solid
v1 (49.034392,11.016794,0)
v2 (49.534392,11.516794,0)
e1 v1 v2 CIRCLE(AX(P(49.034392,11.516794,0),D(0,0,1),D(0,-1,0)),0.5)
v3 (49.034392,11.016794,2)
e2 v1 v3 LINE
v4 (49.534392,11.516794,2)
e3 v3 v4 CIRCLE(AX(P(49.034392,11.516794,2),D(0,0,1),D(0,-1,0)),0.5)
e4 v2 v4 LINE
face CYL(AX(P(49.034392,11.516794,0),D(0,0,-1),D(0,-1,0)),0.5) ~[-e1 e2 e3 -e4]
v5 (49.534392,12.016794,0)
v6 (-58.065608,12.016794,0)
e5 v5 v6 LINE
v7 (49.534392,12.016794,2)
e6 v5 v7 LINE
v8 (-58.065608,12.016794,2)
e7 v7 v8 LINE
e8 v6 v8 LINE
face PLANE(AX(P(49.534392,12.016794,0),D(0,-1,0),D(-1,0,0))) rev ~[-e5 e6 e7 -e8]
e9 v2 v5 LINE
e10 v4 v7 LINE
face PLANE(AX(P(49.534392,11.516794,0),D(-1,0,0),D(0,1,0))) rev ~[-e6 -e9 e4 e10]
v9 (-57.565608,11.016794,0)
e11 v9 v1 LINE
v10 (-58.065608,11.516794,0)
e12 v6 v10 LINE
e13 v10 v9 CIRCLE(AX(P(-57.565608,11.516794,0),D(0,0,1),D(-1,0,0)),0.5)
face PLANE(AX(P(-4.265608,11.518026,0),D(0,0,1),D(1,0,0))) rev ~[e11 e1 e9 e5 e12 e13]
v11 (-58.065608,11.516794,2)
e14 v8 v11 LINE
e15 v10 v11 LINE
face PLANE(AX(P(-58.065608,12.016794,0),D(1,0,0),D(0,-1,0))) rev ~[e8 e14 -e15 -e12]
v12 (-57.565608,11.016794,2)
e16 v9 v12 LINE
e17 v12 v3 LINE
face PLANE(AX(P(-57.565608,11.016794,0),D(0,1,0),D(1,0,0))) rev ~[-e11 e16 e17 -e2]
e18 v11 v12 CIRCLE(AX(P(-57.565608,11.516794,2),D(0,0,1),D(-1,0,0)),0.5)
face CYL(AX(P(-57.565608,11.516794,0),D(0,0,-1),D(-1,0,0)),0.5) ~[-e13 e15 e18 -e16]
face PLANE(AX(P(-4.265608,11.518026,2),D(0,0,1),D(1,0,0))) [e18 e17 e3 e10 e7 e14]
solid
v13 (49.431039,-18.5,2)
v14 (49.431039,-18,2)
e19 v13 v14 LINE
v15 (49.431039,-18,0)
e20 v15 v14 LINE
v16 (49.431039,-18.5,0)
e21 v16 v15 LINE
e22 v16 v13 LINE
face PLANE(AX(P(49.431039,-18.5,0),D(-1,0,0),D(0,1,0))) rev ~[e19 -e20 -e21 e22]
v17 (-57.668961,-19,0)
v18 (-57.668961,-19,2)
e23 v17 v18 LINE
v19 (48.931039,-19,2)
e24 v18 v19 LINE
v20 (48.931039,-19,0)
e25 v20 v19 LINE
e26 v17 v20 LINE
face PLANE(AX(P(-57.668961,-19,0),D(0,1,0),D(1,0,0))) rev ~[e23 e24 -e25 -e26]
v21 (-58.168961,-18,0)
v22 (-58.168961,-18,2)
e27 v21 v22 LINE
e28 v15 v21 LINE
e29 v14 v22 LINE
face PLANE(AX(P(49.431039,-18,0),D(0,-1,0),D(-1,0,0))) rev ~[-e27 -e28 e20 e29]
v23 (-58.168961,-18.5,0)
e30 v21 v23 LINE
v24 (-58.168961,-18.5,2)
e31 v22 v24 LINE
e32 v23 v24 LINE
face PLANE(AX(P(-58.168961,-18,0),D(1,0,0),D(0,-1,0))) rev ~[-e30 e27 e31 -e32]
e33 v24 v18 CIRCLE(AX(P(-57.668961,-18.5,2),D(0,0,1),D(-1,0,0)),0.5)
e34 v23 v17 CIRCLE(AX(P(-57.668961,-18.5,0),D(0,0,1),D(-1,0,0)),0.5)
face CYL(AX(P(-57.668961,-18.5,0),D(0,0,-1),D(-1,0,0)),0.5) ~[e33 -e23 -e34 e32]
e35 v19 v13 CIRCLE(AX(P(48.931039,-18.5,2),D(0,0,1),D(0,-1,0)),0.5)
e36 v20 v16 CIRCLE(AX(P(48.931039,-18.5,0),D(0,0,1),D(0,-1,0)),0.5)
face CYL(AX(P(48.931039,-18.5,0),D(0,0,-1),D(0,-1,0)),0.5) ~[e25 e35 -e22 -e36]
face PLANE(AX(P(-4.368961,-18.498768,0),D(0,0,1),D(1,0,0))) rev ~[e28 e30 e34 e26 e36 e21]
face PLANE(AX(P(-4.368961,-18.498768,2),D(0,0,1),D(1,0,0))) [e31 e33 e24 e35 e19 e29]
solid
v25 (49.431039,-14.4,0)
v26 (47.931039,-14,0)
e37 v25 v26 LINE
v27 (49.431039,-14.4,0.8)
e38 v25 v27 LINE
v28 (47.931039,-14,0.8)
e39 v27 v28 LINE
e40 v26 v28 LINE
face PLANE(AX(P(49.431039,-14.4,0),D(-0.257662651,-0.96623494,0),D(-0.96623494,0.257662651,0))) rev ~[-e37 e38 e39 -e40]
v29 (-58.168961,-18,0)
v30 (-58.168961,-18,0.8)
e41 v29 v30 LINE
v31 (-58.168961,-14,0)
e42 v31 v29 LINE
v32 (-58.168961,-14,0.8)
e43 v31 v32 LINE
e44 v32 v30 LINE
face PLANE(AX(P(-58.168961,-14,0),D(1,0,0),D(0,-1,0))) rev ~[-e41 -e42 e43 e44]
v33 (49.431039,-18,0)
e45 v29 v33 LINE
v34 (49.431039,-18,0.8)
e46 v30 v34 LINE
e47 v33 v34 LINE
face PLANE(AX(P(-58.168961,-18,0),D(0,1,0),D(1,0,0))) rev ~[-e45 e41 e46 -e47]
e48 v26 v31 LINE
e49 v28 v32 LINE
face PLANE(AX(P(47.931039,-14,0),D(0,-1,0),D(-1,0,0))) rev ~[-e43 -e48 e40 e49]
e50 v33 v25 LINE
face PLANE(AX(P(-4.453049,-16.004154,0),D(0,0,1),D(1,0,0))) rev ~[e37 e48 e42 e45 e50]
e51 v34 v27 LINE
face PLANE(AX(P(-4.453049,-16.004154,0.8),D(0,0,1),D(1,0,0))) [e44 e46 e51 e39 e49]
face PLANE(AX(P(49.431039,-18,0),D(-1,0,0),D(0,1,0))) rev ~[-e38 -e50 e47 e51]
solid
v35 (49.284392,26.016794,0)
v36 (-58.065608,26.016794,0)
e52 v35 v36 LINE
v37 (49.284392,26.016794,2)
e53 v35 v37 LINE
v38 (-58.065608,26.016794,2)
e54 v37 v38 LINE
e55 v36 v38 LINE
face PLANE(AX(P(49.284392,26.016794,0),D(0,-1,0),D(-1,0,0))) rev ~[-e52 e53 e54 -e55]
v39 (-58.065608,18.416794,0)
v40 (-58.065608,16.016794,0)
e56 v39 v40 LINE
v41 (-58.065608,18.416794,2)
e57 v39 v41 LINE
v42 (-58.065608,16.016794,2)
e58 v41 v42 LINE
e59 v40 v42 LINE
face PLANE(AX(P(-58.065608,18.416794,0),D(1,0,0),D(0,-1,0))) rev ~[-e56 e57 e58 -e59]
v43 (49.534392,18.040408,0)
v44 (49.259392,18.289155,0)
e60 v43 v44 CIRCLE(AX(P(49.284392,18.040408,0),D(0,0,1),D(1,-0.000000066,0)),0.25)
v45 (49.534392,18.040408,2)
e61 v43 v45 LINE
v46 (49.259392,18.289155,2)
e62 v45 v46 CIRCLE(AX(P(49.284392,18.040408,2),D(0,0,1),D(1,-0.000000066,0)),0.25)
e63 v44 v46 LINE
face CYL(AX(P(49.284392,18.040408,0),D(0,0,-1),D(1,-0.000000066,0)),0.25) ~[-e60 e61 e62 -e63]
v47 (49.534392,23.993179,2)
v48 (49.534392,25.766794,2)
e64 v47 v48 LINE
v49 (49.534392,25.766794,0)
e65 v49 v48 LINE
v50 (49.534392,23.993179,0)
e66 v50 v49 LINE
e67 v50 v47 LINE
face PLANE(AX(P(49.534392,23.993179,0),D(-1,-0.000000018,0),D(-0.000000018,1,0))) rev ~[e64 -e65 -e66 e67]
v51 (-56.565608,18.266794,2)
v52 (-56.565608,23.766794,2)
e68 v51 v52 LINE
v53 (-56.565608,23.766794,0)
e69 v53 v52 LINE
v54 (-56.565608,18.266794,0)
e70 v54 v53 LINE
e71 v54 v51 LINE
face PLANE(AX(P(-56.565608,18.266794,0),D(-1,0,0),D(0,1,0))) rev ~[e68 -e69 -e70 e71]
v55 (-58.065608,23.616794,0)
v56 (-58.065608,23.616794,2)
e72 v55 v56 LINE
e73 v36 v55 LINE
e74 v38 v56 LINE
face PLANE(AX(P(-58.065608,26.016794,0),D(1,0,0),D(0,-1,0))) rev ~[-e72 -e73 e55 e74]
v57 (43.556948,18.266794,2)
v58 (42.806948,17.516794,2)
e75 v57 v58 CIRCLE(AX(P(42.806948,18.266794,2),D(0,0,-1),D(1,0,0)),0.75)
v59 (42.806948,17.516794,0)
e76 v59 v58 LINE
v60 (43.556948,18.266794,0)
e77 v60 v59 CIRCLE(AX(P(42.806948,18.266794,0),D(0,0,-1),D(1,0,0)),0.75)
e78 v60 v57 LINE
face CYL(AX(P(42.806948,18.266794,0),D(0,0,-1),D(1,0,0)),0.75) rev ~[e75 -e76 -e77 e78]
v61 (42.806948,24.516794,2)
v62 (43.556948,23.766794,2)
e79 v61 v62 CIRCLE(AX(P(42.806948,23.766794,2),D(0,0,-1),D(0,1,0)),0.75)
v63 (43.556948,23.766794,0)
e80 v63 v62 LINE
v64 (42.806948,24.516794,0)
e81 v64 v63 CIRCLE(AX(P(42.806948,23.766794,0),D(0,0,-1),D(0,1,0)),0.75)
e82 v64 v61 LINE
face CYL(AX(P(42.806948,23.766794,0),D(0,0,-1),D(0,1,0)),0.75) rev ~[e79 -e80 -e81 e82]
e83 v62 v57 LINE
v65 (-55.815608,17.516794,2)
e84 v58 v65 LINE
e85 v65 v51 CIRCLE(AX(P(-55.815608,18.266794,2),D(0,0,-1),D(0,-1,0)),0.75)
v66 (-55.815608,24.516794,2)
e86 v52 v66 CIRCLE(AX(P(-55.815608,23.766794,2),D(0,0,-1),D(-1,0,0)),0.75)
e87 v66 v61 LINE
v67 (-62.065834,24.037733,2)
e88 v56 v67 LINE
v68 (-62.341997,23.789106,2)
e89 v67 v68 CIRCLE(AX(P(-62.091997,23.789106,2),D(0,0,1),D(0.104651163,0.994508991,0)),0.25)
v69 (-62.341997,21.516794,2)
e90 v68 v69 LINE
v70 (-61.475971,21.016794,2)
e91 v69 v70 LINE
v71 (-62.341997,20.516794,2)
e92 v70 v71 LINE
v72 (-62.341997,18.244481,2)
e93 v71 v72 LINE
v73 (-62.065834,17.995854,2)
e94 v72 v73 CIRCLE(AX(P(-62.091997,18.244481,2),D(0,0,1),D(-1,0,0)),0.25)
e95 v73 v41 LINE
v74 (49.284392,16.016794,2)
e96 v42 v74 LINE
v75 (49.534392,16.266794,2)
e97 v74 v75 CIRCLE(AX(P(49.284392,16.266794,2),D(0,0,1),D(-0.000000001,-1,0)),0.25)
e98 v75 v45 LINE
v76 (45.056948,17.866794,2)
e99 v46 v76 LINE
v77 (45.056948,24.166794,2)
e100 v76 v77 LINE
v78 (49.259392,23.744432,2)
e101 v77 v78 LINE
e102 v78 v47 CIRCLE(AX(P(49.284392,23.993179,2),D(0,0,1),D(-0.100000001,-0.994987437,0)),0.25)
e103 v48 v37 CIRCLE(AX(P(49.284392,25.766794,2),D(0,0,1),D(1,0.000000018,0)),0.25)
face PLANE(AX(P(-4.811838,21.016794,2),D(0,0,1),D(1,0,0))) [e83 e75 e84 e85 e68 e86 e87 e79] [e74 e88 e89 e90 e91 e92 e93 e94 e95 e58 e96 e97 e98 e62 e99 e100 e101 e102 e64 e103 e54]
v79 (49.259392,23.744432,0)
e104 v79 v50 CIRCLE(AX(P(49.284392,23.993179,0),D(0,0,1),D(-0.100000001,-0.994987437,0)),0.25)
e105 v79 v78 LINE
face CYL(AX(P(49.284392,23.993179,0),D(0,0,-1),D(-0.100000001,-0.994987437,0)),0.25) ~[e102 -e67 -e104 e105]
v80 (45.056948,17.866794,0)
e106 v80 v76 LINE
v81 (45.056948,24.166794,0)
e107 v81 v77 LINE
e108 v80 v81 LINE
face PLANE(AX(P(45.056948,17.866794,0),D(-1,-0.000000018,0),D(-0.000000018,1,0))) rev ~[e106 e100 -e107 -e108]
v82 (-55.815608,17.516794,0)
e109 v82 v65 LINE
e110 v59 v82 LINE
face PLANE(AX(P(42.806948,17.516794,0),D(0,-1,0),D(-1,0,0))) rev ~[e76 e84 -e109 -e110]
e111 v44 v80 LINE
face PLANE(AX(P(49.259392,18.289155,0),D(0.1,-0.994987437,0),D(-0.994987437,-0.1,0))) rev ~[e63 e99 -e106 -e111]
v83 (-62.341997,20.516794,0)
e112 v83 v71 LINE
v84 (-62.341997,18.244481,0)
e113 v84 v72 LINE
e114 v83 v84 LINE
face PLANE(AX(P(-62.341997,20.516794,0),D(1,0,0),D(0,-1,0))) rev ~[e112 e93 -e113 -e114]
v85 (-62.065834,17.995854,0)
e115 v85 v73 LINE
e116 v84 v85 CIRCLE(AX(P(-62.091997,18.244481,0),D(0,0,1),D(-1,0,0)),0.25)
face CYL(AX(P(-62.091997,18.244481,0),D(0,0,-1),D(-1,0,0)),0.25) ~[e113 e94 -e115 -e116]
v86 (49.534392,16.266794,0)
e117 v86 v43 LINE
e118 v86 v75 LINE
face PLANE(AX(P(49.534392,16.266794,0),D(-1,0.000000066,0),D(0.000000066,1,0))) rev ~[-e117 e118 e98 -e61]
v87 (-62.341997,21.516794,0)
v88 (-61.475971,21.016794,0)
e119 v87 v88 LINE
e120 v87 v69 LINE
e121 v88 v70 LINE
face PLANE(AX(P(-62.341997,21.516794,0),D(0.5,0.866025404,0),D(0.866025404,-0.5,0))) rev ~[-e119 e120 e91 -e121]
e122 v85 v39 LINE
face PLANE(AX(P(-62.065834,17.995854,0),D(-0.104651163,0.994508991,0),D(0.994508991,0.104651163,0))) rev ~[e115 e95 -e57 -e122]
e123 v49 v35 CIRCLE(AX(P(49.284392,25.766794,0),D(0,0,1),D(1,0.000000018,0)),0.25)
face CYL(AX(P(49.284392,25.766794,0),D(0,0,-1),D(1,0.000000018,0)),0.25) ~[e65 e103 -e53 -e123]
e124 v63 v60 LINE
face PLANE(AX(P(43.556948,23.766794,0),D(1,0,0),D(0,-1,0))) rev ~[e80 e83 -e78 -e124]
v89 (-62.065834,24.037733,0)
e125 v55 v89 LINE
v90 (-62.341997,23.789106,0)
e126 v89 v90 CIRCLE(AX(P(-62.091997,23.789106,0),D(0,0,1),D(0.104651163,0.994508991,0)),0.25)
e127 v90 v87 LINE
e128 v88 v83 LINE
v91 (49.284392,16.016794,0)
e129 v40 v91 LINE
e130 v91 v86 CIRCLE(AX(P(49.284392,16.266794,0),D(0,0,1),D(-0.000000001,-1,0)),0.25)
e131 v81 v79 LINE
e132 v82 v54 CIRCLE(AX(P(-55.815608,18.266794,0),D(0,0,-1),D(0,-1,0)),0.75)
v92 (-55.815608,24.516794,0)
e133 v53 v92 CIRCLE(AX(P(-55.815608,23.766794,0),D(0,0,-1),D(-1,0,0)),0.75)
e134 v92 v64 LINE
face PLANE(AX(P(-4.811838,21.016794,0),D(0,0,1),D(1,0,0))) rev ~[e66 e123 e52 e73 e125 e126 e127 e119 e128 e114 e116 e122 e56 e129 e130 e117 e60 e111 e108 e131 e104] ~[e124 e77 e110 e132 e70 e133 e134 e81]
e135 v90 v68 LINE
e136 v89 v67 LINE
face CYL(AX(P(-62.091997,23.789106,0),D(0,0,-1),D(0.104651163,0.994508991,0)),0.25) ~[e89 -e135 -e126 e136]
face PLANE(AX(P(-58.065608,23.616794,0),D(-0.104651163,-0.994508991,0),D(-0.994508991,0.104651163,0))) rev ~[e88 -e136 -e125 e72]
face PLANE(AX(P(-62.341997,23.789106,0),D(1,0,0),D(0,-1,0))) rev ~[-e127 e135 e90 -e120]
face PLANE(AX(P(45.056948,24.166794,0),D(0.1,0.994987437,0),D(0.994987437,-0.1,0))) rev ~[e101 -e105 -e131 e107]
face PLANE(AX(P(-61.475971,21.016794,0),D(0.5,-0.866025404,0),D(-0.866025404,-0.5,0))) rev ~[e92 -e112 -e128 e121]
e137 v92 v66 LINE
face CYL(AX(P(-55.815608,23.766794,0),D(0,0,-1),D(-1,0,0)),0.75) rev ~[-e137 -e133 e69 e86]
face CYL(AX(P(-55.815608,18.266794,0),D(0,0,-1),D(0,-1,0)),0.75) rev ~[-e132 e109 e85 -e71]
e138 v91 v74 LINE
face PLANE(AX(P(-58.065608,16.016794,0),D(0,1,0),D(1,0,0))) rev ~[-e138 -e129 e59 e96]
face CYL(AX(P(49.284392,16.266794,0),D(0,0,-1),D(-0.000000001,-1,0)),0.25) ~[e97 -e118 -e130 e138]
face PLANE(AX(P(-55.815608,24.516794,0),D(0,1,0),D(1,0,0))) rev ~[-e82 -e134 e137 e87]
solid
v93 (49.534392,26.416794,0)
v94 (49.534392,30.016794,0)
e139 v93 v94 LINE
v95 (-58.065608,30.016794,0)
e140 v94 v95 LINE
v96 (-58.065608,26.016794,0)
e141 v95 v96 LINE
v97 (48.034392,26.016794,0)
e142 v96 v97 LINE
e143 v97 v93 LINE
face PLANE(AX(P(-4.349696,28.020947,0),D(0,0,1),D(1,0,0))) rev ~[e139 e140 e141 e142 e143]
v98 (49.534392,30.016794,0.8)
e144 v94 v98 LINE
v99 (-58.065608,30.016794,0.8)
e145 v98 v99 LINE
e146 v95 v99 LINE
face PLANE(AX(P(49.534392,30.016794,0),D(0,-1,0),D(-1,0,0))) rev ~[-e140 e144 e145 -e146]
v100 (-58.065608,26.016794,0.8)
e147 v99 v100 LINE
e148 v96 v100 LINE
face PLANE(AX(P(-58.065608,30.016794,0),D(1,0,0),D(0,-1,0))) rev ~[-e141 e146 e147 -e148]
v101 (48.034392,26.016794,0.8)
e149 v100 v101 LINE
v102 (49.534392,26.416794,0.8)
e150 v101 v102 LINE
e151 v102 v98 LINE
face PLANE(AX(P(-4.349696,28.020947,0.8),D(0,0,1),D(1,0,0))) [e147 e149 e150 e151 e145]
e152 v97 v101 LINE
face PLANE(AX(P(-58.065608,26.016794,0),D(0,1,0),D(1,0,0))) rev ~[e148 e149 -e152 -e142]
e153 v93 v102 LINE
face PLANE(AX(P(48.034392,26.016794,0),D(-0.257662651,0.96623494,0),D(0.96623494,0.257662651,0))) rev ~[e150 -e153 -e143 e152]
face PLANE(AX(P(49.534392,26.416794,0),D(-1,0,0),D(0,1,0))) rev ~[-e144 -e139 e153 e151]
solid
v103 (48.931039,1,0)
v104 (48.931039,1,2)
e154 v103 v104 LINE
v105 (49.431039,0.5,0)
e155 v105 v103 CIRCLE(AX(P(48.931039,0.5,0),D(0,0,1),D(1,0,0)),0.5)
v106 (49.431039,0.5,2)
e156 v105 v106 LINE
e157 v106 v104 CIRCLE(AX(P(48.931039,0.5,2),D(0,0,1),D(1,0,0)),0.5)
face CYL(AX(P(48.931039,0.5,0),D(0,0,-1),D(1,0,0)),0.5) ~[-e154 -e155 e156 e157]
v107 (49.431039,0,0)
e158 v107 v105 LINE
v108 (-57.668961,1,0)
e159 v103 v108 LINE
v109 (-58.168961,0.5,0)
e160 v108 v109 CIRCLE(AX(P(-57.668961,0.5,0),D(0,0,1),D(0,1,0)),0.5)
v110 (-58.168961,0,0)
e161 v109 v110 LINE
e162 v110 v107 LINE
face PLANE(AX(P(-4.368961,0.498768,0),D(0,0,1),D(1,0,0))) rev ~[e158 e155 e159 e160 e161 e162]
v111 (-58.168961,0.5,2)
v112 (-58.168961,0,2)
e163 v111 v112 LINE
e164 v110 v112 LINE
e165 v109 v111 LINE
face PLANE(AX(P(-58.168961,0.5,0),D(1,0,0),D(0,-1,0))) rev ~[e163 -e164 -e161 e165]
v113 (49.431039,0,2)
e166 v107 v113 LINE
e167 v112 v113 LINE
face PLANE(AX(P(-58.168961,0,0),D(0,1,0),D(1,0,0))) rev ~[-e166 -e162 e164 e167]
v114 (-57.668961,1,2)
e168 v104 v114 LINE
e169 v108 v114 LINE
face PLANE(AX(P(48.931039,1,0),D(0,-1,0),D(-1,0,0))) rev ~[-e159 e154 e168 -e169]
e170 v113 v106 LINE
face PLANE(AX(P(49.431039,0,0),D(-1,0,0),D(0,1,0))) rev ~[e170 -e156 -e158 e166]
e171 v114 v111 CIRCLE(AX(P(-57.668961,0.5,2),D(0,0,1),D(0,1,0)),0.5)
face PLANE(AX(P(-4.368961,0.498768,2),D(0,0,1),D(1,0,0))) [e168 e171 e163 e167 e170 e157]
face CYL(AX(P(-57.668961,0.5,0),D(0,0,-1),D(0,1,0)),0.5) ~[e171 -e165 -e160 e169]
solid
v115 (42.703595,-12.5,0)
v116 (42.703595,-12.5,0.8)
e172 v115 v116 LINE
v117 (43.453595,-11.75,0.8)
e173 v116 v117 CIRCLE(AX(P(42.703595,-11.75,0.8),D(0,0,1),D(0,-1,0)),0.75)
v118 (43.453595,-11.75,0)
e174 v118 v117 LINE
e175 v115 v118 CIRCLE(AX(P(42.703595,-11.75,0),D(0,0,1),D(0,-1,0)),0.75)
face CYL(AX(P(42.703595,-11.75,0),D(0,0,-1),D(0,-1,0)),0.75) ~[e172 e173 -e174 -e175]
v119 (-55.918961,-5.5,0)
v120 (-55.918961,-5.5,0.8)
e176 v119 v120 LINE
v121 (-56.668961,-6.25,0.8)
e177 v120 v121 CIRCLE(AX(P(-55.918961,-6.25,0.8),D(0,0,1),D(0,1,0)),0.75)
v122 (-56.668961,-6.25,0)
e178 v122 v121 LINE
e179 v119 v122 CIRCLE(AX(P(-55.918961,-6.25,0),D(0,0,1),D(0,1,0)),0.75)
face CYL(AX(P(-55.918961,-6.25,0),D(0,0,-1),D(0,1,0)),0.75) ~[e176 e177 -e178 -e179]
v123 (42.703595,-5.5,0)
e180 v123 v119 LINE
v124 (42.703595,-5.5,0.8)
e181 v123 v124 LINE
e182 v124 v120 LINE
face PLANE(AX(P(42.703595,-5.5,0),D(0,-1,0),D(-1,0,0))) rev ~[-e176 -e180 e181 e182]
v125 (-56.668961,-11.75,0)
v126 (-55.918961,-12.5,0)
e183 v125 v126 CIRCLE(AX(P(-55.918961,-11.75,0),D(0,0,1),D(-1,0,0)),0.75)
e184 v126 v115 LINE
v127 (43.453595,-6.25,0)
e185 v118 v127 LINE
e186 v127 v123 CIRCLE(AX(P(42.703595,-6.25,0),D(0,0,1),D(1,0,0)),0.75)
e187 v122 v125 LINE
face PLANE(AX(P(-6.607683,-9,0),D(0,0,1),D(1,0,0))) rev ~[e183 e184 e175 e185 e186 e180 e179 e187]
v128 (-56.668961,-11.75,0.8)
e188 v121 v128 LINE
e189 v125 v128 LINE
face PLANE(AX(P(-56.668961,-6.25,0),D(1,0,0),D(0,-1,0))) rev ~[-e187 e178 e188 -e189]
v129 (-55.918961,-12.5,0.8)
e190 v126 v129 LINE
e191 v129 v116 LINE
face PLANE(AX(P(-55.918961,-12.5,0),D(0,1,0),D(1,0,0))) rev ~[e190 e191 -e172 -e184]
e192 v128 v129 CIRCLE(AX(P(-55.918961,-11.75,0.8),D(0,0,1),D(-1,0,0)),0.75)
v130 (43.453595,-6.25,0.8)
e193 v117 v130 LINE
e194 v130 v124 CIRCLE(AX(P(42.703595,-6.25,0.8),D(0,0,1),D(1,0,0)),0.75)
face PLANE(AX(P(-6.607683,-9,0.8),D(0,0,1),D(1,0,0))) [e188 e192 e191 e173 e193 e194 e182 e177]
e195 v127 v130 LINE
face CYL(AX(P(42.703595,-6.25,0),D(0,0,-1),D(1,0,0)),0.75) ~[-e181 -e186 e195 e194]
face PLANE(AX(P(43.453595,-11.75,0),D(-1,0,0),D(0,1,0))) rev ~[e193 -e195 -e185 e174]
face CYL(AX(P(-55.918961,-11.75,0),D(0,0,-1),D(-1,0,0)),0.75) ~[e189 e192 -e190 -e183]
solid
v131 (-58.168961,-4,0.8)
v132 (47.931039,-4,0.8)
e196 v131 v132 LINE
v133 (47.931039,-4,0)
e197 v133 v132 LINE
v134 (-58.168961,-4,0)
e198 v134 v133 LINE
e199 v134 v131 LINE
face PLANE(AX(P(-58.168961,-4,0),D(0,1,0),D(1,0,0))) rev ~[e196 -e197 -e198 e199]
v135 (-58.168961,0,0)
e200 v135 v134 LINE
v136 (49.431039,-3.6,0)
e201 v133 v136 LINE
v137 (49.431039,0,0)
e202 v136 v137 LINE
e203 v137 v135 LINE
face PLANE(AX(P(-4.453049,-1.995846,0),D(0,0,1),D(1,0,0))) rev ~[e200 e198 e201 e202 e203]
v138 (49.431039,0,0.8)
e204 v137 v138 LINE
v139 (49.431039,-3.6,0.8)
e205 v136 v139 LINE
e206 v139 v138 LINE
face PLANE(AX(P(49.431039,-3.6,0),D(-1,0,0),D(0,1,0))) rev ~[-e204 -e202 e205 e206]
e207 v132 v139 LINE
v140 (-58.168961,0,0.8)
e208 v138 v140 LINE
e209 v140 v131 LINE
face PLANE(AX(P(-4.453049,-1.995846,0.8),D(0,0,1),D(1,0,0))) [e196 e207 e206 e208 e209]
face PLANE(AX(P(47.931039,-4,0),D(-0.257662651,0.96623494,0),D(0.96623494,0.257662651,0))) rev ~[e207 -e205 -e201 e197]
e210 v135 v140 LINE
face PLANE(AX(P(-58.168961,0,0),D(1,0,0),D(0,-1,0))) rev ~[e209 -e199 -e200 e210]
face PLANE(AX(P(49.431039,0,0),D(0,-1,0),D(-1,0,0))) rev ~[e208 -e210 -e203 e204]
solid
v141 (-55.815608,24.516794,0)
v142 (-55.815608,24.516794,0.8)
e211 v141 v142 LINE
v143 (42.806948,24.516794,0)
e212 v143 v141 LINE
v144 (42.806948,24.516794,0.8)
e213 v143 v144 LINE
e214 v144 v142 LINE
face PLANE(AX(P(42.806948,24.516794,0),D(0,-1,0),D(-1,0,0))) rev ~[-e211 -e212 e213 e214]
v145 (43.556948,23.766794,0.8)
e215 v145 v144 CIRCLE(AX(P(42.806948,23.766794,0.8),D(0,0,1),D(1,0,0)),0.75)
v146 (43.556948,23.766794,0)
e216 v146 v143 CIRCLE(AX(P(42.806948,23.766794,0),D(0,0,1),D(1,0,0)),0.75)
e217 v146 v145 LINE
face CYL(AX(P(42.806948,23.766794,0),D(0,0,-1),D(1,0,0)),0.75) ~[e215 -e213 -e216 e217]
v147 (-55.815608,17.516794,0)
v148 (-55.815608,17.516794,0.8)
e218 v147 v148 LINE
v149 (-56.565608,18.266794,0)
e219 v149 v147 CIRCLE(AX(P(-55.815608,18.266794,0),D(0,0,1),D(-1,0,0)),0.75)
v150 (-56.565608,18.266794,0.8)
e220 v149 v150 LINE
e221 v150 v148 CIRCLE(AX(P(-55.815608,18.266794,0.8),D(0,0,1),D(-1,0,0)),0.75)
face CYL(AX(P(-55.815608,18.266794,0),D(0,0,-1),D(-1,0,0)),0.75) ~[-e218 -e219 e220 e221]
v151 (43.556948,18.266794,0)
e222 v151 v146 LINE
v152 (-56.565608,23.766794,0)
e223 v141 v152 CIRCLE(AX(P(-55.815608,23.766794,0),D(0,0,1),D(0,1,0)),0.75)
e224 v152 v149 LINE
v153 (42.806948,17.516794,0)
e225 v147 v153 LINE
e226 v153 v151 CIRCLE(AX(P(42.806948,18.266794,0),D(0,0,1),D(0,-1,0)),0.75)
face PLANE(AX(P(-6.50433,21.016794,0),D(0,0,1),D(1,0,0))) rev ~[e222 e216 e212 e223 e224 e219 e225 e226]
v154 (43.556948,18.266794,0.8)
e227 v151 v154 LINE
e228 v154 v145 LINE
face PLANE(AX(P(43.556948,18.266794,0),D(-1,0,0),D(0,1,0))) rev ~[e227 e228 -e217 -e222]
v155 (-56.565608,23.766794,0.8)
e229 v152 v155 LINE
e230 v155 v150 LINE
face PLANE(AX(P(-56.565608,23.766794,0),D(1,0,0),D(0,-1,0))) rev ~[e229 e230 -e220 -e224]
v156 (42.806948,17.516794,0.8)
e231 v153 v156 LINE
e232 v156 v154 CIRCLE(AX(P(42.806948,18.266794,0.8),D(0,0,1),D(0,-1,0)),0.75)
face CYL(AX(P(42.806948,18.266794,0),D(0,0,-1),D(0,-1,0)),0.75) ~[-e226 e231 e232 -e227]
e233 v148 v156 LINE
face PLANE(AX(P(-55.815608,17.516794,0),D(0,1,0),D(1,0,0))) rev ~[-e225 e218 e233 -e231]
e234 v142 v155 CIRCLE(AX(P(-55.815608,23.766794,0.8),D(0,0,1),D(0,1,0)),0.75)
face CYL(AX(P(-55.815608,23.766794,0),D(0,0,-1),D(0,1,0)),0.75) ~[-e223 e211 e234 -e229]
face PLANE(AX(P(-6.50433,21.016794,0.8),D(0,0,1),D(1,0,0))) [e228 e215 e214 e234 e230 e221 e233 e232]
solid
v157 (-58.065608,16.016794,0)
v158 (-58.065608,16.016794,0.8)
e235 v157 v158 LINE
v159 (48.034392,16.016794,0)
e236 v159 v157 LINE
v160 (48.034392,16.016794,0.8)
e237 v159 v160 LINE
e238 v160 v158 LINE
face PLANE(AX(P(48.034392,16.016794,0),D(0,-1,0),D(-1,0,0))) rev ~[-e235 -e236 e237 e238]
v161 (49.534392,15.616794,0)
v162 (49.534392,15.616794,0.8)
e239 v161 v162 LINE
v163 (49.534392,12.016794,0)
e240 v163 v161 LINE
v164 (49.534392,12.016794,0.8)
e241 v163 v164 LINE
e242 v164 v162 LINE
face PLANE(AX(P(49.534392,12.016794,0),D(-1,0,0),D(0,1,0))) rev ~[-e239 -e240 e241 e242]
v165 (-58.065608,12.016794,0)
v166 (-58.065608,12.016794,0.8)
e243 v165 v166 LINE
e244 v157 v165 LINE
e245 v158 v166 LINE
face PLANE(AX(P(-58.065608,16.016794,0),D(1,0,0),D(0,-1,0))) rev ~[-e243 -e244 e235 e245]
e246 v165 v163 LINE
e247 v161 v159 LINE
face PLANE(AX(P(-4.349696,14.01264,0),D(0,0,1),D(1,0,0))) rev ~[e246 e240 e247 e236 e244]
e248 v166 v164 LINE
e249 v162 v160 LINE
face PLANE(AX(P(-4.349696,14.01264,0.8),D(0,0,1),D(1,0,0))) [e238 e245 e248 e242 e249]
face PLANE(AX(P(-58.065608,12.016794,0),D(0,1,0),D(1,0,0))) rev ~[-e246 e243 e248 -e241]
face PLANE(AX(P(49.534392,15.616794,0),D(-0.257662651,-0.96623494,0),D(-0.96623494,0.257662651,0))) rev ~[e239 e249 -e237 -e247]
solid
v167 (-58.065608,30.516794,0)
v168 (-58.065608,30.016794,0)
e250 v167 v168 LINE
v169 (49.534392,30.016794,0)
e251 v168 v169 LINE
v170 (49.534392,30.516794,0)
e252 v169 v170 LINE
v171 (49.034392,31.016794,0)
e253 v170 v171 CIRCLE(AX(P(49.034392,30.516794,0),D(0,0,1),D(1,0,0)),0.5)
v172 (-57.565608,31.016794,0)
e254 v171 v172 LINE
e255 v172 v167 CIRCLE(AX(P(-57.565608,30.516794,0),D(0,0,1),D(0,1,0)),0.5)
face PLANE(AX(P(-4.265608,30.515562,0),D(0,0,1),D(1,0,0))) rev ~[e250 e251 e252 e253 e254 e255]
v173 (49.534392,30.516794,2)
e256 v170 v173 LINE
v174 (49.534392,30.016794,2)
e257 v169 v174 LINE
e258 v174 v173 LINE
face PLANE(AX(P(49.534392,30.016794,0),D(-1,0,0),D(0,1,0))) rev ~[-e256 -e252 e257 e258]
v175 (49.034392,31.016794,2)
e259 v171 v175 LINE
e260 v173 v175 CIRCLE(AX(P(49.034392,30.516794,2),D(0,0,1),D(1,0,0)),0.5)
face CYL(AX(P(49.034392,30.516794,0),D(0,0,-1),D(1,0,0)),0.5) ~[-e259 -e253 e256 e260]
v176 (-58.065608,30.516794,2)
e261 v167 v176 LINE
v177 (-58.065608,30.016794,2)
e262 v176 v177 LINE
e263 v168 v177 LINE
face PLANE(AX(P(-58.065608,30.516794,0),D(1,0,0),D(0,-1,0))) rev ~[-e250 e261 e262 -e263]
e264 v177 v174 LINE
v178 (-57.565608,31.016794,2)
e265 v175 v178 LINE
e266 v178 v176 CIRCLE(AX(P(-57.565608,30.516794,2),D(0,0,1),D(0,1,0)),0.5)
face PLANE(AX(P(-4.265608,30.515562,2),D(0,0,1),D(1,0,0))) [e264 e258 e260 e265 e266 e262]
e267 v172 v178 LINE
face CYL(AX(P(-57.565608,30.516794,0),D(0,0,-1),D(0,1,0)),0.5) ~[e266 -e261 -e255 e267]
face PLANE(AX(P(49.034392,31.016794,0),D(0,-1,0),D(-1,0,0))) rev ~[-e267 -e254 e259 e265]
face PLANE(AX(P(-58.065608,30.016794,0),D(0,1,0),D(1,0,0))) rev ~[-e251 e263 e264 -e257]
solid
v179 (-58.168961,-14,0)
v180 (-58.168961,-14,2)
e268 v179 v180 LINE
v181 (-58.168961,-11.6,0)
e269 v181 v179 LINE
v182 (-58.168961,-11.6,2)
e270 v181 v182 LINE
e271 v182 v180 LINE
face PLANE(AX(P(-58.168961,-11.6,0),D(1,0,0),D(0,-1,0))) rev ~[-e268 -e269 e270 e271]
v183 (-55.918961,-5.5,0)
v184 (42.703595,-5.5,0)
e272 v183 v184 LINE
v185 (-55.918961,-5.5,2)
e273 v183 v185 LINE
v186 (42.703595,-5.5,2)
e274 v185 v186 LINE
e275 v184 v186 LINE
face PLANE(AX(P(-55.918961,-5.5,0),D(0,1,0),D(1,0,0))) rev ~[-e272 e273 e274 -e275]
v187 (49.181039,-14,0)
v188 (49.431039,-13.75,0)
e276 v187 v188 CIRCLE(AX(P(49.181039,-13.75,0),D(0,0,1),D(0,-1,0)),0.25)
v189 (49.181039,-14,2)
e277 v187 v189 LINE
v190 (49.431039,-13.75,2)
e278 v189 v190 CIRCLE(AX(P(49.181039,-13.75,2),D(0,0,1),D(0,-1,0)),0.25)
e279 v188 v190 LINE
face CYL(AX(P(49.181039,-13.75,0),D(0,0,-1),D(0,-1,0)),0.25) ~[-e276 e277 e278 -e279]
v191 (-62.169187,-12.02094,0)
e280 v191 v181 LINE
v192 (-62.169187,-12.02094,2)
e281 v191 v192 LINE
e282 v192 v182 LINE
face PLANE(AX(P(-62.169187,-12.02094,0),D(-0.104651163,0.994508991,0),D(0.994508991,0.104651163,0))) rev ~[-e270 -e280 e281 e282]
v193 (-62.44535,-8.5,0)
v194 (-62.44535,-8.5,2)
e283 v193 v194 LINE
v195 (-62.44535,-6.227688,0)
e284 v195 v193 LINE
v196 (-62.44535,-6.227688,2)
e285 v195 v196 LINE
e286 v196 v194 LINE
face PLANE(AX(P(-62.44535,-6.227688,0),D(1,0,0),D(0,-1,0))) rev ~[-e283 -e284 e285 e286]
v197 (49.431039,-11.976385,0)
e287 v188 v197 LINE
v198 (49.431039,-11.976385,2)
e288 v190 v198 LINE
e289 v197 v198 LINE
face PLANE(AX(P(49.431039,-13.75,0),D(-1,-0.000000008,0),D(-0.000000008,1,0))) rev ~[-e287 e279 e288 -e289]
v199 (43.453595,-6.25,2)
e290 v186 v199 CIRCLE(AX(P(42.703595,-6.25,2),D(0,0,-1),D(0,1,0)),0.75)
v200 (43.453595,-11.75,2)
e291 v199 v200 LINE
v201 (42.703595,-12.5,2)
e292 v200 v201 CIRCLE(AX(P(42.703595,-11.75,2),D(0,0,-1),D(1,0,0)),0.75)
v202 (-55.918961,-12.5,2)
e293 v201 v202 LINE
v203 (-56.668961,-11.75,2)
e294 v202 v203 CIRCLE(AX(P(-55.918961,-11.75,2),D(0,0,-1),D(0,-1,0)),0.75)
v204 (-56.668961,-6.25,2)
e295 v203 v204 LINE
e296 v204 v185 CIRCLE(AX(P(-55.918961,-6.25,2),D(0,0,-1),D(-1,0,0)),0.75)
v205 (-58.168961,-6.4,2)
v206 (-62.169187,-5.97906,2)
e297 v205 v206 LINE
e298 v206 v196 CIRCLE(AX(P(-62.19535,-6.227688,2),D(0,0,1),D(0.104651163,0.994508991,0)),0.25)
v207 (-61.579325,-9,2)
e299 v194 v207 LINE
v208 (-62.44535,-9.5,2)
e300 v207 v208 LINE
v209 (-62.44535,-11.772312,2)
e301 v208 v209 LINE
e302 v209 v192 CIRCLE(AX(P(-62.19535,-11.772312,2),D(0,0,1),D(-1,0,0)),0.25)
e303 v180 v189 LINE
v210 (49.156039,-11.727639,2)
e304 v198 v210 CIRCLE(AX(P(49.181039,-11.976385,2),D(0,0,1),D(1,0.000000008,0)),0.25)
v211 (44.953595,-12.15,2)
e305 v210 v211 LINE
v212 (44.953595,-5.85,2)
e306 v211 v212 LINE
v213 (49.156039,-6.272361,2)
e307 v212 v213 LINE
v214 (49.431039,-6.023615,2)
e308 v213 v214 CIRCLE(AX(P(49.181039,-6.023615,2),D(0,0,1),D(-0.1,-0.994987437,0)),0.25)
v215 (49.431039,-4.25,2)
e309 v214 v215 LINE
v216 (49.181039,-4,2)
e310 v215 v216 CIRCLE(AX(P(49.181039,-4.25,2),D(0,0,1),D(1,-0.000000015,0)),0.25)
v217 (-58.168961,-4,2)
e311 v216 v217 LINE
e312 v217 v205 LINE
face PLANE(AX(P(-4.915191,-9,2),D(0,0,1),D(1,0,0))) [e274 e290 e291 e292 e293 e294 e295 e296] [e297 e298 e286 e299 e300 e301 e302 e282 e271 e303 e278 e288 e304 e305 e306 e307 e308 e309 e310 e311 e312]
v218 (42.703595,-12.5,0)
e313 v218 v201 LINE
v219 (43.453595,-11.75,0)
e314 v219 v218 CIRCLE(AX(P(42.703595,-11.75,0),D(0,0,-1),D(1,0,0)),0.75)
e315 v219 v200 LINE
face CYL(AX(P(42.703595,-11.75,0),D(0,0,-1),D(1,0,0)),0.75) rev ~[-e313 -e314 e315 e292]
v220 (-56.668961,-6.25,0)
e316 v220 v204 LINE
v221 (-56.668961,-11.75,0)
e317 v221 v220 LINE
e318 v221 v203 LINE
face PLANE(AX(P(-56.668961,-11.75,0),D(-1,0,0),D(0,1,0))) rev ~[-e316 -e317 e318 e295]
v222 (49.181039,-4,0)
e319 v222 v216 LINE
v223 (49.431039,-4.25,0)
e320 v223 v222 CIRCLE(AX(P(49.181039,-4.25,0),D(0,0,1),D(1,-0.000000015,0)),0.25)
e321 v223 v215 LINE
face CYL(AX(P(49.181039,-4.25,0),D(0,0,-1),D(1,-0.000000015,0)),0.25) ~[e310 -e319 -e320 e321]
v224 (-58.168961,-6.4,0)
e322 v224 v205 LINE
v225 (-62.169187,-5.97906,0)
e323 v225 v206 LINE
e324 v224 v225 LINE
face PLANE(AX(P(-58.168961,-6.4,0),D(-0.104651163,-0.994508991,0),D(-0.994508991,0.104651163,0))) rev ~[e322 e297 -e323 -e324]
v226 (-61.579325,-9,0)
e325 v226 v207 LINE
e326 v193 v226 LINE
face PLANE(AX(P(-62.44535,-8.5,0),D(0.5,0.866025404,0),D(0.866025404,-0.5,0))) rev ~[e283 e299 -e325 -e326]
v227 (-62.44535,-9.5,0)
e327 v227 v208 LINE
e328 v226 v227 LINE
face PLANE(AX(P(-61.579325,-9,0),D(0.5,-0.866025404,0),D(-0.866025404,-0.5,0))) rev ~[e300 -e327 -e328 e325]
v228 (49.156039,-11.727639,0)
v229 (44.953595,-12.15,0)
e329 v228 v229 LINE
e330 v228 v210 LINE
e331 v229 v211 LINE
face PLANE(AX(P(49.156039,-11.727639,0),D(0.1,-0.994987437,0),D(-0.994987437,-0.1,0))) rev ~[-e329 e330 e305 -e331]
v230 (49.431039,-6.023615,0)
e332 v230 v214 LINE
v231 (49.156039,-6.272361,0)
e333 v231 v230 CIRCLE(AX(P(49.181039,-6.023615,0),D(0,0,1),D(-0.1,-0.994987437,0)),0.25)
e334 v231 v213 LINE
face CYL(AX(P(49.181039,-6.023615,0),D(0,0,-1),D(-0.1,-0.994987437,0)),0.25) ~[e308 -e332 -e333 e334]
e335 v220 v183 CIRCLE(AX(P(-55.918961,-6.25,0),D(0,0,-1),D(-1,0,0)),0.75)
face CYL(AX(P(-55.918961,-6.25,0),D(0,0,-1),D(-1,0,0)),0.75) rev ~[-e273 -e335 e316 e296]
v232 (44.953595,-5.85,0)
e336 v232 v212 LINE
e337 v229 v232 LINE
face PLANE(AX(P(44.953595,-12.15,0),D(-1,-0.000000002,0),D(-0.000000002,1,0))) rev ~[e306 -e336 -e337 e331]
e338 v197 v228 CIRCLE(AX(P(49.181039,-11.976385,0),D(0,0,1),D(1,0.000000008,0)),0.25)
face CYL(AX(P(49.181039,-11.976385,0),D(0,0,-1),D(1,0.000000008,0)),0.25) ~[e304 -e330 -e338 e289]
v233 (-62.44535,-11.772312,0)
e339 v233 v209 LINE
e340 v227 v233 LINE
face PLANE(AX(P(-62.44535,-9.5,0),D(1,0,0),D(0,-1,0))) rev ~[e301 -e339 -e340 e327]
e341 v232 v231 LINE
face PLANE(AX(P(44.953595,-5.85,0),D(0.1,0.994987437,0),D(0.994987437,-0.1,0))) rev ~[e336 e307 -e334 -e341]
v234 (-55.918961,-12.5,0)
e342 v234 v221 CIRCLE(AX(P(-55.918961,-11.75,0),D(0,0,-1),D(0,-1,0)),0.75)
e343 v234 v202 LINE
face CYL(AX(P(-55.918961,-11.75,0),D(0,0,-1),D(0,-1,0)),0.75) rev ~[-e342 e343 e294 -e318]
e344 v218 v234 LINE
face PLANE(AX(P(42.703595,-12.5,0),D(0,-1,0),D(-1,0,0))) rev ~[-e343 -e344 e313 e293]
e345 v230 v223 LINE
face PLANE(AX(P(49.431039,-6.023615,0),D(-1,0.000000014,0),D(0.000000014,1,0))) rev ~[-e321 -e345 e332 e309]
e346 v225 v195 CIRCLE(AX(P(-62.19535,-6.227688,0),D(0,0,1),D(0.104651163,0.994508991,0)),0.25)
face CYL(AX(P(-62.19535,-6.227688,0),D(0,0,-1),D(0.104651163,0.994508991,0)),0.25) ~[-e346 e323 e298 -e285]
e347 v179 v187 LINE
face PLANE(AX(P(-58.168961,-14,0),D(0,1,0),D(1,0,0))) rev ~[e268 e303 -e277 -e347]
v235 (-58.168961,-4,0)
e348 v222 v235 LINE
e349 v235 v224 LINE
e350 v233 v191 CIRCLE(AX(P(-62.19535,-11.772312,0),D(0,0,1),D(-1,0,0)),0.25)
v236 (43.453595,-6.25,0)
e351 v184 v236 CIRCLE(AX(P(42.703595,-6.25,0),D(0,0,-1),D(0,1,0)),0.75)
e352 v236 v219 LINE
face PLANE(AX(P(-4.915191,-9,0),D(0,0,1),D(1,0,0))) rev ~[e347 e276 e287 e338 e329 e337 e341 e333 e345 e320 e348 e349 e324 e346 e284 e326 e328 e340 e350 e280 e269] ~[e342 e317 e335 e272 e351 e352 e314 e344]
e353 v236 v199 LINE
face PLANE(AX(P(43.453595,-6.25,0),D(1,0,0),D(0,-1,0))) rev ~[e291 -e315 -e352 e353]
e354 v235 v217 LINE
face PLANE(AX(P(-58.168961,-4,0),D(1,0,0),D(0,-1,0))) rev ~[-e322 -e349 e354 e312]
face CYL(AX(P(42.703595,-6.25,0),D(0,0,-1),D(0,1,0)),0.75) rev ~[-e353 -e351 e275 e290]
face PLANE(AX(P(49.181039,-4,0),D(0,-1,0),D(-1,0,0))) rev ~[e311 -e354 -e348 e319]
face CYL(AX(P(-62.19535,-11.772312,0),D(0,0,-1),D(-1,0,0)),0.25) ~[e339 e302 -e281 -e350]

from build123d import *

# Parameters (mm, degrees)
F1_DEPTH = 2
F2_DEPTH = 0.8


with BuildPart() as f1:
    # F0 (on Top) → F1 (new body)
    with BuildSketch(Plane.XY):
        with BuildLine():
            Line((48.9310387218, 1), (-57.6689612782, 1))
            ThreePointArc((-57.6689612782, 1), (-58.0225146688, 0.8535533906), (-58.1689612782, 0.5))
            Line((-58.1689612782, 0.5), (-58.1689612782, 0))
            Line((-58.1689612782, 0), (49.4310387218, 0))
            Line((49.4310387218, 0), (49.4310387218, 0.5))
            ThreePointArc((49.4310387218, 0.5), (49.2845921124, 0.8535533906), (48.9310387218, 1))
        make_face()
    extrude(amount=F1_DEPTH)


with BuildPart() as f1b:
    # F0 (on Top) → F1, piece 2 (new body)
    with BuildSketch(Plane.XY):
        with BuildLine():
            Line((47.9310387218, -4), (-58.1689612782, -4))
            Line((-58.1689612782, -4), (-58.1689612782, -6.4))
            Line((-58.1689612782, -6.4), (-62.1691871508, -5.9790603277))
            ThreePointArc((-62.1691871508, -5.9790603277), (-62.362621132, -6.0418910502), (-62.4453499415, -6.2276875755))
            Line((-62.4453499415, -6.2276875755), (-62.4453499415, -8.5))
            Line((-62.4453499415, -8.5), (-61.5793245377, -9))
            Line((-61.5793245377, -9), (-62.4453499415, -9.5))
            Line((-62.4453499415, -9.5), (-62.4453499415, -11.7723124245))
            ThreePointArc((-62.4453499415, -11.7723124245), (-62.362621132, -11.9581089498), (-62.1691871508, -12.0209396723))
            Line((-62.1691871508, -12.0209396723), (-58.1689612782, -11.6))
            Line((-58.1689612782, -11.6), (-58.1689612782, -14))
            Line((-58.1689612782, -14), (47.9310387218, -14))
            Line((47.9310387218, -14), (49.1810387199, -14))
            ThreePointArc((49.1810387199, -14), (49.3578154159, -13.9267766946), (49.4310387199, -13.7499999981))
            Line((49.4310387199, -13.7499999981), (49.4310387064, -11.9763853971))
            ThreePointArc((49.4310387064, -11.9763853971), (49.348743804, -11.7909804362), (49.1560387064, -11.7276385397))
            Line((49.1560387064, -11.7276385397), (44.9535952373, -12.15))
            Line((44.9535952373, -12.15), (44.9535952225, -5.85))
            Line((44.9535952225, -5.85), (49.1560386934, -6.2723614605))
            ThreePointArc((49.1560386934, -6.2723614605), (49.3487437904, -6.2090195646), (49.4310386934, -6.0236146047))
            Line((49.4310386934, -6.0236146047), (49.4310387183, -4.2500000035))
            ThreePointArc((49.4310387183, -4.2500000035), (49.3578154149, -4.0732233059), (49.1810387183, -4))
            Line((49.1810387183, -4), (47.9310387218, -4))
        make_face()
        with BuildLine():
            ThreePointArc((-56.6689612782, -6.25), (-56.4492913641, -5.7196699141), (-55.9189612782, -5.5))
            Line((-55.9189612782, -5.5), (42.7035952381, -5.5))
            ThreePointArc((42.7035952381, -5.5), (43.233925324, -5.7196699141), (43.4535952381, -6.25))
            Line((43.4535952381, -6.25), (43.4535952381, -11.75))
            ThreePointArc((43.4535952381, -11.75), (43.233925324, -12.2803300859), (42.7035952381, -12.5))
            Line((42.7035952381, -12.5), (-55.9189612782, -12.5))
            ThreePointArc((-55.9189612782, -12.5), (-56.4492913641, -12.2803300859), (-56.6689612782, -11.75))
            Line((-56.6689612782, -11.75), (-56.6689612782, -6.25))
        make_face(mode=Mode.SUBTRACT)
    extrude(amount=F1_DEPTH)


with BuildPart() as f1c:
    # F0 (on Top) → F1, piece 3 (new body)
    with BuildSketch(Plane.XY):
        with BuildLine():
            Line((49.4310387218, -18), (-58.1689612782, -18))
            Line((-58.1689612782, -18), (-58.1689612782, -18.5))
            ThreePointArc((-58.1689612782, -18.5), (-58.0225146688, -18.8535533906), (-57.6689612782, -19))
            Line((-57.6689612782, -19), (48.9310387218, -19))
            ThreePointArc((48.9310387218, -19), (49.2845921124, -18.8535533906), (49.4310387218, -18.5))
            Line((49.4310387218, -18.5), (49.4310387218, -18))
        make_face()
    extrude(amount=F1_DEPTH)


with BuildPart() as f1d:
    # F0 (on Top) → F1, piece 4 (new body)
    with BuildSketch(Plane.XY):
        with BuildLine():
            Line((49.034391772, 31.0167935491), (-57.565608228, 31.0167935491))
            ThreePointArc((-57.565608228, 31.0167935491), (-57.9191616185, 30.8703469397), (-58.065608228, 30.5167935491))
            Line((-58.065608228, 30.5167935491), (-58.065608228, 30.0167935491))
            Line((-58.065608228, 30.0167935491), (49.534391772, 30.0167935491))
            Line((49.534391772, 30.0167935491), (49.534391772, 30.5167935491))
            ThreePointArc((49.534391772, 30.5167935491), (49.3879451626, 30.8703469397), (49.034391772, 31.0167935491))
        make_face()
    extrude(amount=F1_DEPTH)


with BuildPart() as f1e:
    # F0 (on Top) → F1, piece 5 (new body)
    with BuildSketch(Plane.XY):
        with BuildLine():
            Line((48.034391772, 26.0167935491), (-58.065608228, 26.0167935491))
            Line((-58.065608228, 26.0167935491), (-58.065608228, 23.6167935491))
            Line((-58.065608228, 23.6167935491), (-62.0658341006, 24.0377332214))
            ThreePointArc((-62.0658341006, 24.0377332214), (-62.2592680818, 23.9749024989), (-62.3419968913, 23.7891059735))
            Line((-62.3419968913, 23.7891059735), (-62.3419968913, 21.5167935491))
            Line((-62.3419968913, 21.5167935491), (-61.4759714875, 21.0167935491))
            Line((-61.4759714875, 21.0167935491), (-62.3419968913, 20.5167935491))
            Line((-62.3419968913, 20.5167935491), (-62.3419968913, 18.2444811246))
            ThreePointArc((-62.3419968913, 18.2444811246), (-62.2592680818, 18.0586845992), (-62.0658341006, 17.9958538767))
            Line((-62.0658341006, 17.9958538767), (-58.065608228, 18.4167935491))
            Line((-58.065608228, 18.4167935491), (-58.065608228, 16.0167935491))
            Line((-58.065608228, 16.0167935491), (48.034391772, 16.0167935491))
            Line((48.034391772, 16.0167935491), (49.2843917886, 16.0167935491))
            ThreePointArc((49.2843917886, 16.0167935491), (49.4611684781, 16.0900168479), (49.5343917886, 16.2667935325))
            Line((49.5343917886, 16.2667935325), (49.5343919064, 18.0404081314))
            ThreePointArc((49.5343919064, 18.0404081314), (49.4520970108, 18.2258131046), (49.2593919064, 18.2891550073))
            Line((49.2593919064, 18.2891550073), (45.0569484577, 17.8667935491))
            Line((45.0569484577, 17.8667935491), (45.0569483455, 24.1667935491))
            Line((45.0569483455, 24.1667935491), (49.2593918076, 23.7444320895))
            ThreePointArc((49.2593918076, 23.7444320895), (49.4520969076, 23.807773988), (49.5343918076, 23.9931789531))
            Line((49.5343918076, 23.9931789531), (49.5343917764, 25.7667935535))
            ThreePointArc((49.5343917764, 25.7667935535), (49.4611684702, 25.9435702459), (49.2843917764, 26.0167935491))
            Line((49.2843917764, 26.0167935491), (48.034391772, 26.0167935491))
        make_face()
        with BuildLine():
            ThreePointArc((-56.565608228, 23.7667935491), (-56.3459383138, 24.297123635), (-55.815608228, 24.5167935491))
            Line((-55.815608228, 24.5167935491), (42.8069484639, 24.5167935491))
            ThreePointArc((42.8069484639, 24.5167935491), (43.3372785498, 24.297123635), (43.5569484639, 23.7667935491))
            Line((43.5569484639, 23.7667935491), (43.5569484639, 18.2667935491))
            ThreePointArc((43.5569484639, 18.2667935491), (43.3372785498, 17.7364634632), (42.8069484639, 17.5167935491))
            Line((42.8069484639, 17.5167935491), (-55.815608228, 17.5167935491))
            ThreePointArc((-55.815608228, 17.5167935491), (-56.3459383138, 17.7364634632), (-56.565608228, 18.2667935491))
            Line((-56.565608228, 18.2667935491), (-56.565608228, 23.7667935491))
        make_face(mode=Mode.SUBTRACT)
    extrude(amount=F1_DEPTH)


with BuildPart() as f1f:
    # F0 (on Top) → F1, piece 6 (new body)
    with BuildSketch(Plane.XY):
        with BuildLine():
            Line((49.534391772, 12.0167935491), (-58.065608228, 12.0167935491))
            Line((-58.065608228, 12.0167935491), (-58.065608228, 11.5167935491))
            ThreePointArc((-58.065608228, 11.5167935491), (-57.9191616185, 11.1632401585), (-57.565608228, 11.0167935491))
            Line((-57.565608228, 11.0167935491), (49.034391772, 11.0167935491))
            ThreePointArc((49.034391772, 11.0167935491), (49.3879451626, 11.1632401585), (49.534391772, 11.5167935491))
            Line((49.534391772, 11.5167935491), (49.534391772, 12.0167935491))
        make_face()
    extrude(amount=F1_DEPTH)


with BuildPart() as f2:
    # F0 (on Top) → F2 (new body)
    with BuildSketch(Plane.XY):
        Polygon((49.4310387218, 0), (-58.1689612782, 0), (-58.1689612782, -4), (47.9310387218, -4), (49.4310387218, -3.6), align=None)
    extrude(amount=F2_DEPTH)


with BuildPart() as f2b:
    # F0 (on Top) → F2, piece 2 (new body)
    with BuildSketch(Plane.XY):
        with BuildLine():
            Line((42.7035952381, -5.5), (-55.9189612782, -5.5))
            ThreePointArc((-55.9189612782, -5.5), (-56.4492913641, -5.7196699141), (-56.6689612782, -6.25))
            Line((-56.6689612782, -6.25), (-56.6689612782, -11.75))
            ThreePointArc((-56.6689612782, -11.75), (-56.4492913641, -12.2803300859), (-55.9189612782, -12.5))
            Line((-55.9189612782, -12.5), (42.7035952381, -12.5))
            ThreePointArc((42.7035952381, -12.5), (43.233925324, -12.2803300859), (43.4535952381, -11.75))
            Line((43.4535952381, -11.75), (43.4535952381, -6.25))
            ThreePointArc((43.4535952381, -6.25), (43.233925324, -5.7196699141), (42.7035952381, -5.5))
        make_face()
    extrude(amount=F2_DEPTH)


with BuildPart() as f2c:
    # F0 (on Top) → F2, piece 3 (new body)
    with BuildSketch(Plane.XY):
        Polygon((47.9310387218, -14), (-58.1689612782, -14), (-58.1689612782, -18), (49.4310387218, -18), (49.4310387218, -14.4), align=None)
    extrude(amount=F2_DEPTH)


with BuildPart() as f2d:
    # F0 (on Top) → F2, piece 4 (new body)
    with BuildSketch(Plane.XY):
        Polygon((49.534391772, 30.0167935491), (-58.065608228, 30.0167935491), (-58.065608228, 26.0167935491), (48.034391772, 26.0167935491), (49.534391772, 26.4167935491), align=None)
    extrude(amount=F2_DEPTH)


with BuildPart() as f2e:
    # F0 (on Top) → F2, piece 5 (new body)
    with BuildSketch(Plane.XY):
        with BuildLine():
            Line((42.8069484639, 24.5167935491), (-55.815608228, 24.5167935491))
            ThreePointArc((-55.815608228, 24.5167935491), (-56.3459383138, 24.297123635), (-56.565608228, 23.7667935491))
            Line((-56.565608228, 23.7667935491), (-56.565608228, 18.2667935491))
            ThreePointArc((-56.565608228, 18.2667935491), (-56.3459383138, 17.7364634632), (-55.815608228, 17.5167935491))
            Line((-55.815608228, 17.5167935491), (42.8069484639, 17.5167935491))
            ThreePointArc((42.8069484639, 17.5167935491), (43.3372785498, 17.7364634632), (43.5569484639, 18.2667935491))
            Line((43.5569484639, 18.2667935491), (43.5569484639, 23.7667935491))
            ThreePointArc((43.5569484639, 23.7667935491), (43.3372785498, 24.297123635), (42.8069484639, 24.5167935491))
        make_face()
    extrude(amount=F2_DEPTH)


with BuildPart() as f2f:
    # F0 (on Top) → F2, piece 6 (new body)
    with BuildSketch(Plane.XY):
        Polygon((48.034391772, 16.0167935491), (-58.065608228, 16.0167935491), (-58.065608228, 12.0167935491), (49.534391772, 12.0167935491), (49.534391772, 15.6167935491), align=None)
    extrude(amount=F2_DEPTH)


solid = Compound([f1.part, f1b.part, f1c.part, f1d.part, f1e.part, f1f.part, f2.part, f2b.part, f2c.part, f2d.part, f2e.part, f2f.part])
